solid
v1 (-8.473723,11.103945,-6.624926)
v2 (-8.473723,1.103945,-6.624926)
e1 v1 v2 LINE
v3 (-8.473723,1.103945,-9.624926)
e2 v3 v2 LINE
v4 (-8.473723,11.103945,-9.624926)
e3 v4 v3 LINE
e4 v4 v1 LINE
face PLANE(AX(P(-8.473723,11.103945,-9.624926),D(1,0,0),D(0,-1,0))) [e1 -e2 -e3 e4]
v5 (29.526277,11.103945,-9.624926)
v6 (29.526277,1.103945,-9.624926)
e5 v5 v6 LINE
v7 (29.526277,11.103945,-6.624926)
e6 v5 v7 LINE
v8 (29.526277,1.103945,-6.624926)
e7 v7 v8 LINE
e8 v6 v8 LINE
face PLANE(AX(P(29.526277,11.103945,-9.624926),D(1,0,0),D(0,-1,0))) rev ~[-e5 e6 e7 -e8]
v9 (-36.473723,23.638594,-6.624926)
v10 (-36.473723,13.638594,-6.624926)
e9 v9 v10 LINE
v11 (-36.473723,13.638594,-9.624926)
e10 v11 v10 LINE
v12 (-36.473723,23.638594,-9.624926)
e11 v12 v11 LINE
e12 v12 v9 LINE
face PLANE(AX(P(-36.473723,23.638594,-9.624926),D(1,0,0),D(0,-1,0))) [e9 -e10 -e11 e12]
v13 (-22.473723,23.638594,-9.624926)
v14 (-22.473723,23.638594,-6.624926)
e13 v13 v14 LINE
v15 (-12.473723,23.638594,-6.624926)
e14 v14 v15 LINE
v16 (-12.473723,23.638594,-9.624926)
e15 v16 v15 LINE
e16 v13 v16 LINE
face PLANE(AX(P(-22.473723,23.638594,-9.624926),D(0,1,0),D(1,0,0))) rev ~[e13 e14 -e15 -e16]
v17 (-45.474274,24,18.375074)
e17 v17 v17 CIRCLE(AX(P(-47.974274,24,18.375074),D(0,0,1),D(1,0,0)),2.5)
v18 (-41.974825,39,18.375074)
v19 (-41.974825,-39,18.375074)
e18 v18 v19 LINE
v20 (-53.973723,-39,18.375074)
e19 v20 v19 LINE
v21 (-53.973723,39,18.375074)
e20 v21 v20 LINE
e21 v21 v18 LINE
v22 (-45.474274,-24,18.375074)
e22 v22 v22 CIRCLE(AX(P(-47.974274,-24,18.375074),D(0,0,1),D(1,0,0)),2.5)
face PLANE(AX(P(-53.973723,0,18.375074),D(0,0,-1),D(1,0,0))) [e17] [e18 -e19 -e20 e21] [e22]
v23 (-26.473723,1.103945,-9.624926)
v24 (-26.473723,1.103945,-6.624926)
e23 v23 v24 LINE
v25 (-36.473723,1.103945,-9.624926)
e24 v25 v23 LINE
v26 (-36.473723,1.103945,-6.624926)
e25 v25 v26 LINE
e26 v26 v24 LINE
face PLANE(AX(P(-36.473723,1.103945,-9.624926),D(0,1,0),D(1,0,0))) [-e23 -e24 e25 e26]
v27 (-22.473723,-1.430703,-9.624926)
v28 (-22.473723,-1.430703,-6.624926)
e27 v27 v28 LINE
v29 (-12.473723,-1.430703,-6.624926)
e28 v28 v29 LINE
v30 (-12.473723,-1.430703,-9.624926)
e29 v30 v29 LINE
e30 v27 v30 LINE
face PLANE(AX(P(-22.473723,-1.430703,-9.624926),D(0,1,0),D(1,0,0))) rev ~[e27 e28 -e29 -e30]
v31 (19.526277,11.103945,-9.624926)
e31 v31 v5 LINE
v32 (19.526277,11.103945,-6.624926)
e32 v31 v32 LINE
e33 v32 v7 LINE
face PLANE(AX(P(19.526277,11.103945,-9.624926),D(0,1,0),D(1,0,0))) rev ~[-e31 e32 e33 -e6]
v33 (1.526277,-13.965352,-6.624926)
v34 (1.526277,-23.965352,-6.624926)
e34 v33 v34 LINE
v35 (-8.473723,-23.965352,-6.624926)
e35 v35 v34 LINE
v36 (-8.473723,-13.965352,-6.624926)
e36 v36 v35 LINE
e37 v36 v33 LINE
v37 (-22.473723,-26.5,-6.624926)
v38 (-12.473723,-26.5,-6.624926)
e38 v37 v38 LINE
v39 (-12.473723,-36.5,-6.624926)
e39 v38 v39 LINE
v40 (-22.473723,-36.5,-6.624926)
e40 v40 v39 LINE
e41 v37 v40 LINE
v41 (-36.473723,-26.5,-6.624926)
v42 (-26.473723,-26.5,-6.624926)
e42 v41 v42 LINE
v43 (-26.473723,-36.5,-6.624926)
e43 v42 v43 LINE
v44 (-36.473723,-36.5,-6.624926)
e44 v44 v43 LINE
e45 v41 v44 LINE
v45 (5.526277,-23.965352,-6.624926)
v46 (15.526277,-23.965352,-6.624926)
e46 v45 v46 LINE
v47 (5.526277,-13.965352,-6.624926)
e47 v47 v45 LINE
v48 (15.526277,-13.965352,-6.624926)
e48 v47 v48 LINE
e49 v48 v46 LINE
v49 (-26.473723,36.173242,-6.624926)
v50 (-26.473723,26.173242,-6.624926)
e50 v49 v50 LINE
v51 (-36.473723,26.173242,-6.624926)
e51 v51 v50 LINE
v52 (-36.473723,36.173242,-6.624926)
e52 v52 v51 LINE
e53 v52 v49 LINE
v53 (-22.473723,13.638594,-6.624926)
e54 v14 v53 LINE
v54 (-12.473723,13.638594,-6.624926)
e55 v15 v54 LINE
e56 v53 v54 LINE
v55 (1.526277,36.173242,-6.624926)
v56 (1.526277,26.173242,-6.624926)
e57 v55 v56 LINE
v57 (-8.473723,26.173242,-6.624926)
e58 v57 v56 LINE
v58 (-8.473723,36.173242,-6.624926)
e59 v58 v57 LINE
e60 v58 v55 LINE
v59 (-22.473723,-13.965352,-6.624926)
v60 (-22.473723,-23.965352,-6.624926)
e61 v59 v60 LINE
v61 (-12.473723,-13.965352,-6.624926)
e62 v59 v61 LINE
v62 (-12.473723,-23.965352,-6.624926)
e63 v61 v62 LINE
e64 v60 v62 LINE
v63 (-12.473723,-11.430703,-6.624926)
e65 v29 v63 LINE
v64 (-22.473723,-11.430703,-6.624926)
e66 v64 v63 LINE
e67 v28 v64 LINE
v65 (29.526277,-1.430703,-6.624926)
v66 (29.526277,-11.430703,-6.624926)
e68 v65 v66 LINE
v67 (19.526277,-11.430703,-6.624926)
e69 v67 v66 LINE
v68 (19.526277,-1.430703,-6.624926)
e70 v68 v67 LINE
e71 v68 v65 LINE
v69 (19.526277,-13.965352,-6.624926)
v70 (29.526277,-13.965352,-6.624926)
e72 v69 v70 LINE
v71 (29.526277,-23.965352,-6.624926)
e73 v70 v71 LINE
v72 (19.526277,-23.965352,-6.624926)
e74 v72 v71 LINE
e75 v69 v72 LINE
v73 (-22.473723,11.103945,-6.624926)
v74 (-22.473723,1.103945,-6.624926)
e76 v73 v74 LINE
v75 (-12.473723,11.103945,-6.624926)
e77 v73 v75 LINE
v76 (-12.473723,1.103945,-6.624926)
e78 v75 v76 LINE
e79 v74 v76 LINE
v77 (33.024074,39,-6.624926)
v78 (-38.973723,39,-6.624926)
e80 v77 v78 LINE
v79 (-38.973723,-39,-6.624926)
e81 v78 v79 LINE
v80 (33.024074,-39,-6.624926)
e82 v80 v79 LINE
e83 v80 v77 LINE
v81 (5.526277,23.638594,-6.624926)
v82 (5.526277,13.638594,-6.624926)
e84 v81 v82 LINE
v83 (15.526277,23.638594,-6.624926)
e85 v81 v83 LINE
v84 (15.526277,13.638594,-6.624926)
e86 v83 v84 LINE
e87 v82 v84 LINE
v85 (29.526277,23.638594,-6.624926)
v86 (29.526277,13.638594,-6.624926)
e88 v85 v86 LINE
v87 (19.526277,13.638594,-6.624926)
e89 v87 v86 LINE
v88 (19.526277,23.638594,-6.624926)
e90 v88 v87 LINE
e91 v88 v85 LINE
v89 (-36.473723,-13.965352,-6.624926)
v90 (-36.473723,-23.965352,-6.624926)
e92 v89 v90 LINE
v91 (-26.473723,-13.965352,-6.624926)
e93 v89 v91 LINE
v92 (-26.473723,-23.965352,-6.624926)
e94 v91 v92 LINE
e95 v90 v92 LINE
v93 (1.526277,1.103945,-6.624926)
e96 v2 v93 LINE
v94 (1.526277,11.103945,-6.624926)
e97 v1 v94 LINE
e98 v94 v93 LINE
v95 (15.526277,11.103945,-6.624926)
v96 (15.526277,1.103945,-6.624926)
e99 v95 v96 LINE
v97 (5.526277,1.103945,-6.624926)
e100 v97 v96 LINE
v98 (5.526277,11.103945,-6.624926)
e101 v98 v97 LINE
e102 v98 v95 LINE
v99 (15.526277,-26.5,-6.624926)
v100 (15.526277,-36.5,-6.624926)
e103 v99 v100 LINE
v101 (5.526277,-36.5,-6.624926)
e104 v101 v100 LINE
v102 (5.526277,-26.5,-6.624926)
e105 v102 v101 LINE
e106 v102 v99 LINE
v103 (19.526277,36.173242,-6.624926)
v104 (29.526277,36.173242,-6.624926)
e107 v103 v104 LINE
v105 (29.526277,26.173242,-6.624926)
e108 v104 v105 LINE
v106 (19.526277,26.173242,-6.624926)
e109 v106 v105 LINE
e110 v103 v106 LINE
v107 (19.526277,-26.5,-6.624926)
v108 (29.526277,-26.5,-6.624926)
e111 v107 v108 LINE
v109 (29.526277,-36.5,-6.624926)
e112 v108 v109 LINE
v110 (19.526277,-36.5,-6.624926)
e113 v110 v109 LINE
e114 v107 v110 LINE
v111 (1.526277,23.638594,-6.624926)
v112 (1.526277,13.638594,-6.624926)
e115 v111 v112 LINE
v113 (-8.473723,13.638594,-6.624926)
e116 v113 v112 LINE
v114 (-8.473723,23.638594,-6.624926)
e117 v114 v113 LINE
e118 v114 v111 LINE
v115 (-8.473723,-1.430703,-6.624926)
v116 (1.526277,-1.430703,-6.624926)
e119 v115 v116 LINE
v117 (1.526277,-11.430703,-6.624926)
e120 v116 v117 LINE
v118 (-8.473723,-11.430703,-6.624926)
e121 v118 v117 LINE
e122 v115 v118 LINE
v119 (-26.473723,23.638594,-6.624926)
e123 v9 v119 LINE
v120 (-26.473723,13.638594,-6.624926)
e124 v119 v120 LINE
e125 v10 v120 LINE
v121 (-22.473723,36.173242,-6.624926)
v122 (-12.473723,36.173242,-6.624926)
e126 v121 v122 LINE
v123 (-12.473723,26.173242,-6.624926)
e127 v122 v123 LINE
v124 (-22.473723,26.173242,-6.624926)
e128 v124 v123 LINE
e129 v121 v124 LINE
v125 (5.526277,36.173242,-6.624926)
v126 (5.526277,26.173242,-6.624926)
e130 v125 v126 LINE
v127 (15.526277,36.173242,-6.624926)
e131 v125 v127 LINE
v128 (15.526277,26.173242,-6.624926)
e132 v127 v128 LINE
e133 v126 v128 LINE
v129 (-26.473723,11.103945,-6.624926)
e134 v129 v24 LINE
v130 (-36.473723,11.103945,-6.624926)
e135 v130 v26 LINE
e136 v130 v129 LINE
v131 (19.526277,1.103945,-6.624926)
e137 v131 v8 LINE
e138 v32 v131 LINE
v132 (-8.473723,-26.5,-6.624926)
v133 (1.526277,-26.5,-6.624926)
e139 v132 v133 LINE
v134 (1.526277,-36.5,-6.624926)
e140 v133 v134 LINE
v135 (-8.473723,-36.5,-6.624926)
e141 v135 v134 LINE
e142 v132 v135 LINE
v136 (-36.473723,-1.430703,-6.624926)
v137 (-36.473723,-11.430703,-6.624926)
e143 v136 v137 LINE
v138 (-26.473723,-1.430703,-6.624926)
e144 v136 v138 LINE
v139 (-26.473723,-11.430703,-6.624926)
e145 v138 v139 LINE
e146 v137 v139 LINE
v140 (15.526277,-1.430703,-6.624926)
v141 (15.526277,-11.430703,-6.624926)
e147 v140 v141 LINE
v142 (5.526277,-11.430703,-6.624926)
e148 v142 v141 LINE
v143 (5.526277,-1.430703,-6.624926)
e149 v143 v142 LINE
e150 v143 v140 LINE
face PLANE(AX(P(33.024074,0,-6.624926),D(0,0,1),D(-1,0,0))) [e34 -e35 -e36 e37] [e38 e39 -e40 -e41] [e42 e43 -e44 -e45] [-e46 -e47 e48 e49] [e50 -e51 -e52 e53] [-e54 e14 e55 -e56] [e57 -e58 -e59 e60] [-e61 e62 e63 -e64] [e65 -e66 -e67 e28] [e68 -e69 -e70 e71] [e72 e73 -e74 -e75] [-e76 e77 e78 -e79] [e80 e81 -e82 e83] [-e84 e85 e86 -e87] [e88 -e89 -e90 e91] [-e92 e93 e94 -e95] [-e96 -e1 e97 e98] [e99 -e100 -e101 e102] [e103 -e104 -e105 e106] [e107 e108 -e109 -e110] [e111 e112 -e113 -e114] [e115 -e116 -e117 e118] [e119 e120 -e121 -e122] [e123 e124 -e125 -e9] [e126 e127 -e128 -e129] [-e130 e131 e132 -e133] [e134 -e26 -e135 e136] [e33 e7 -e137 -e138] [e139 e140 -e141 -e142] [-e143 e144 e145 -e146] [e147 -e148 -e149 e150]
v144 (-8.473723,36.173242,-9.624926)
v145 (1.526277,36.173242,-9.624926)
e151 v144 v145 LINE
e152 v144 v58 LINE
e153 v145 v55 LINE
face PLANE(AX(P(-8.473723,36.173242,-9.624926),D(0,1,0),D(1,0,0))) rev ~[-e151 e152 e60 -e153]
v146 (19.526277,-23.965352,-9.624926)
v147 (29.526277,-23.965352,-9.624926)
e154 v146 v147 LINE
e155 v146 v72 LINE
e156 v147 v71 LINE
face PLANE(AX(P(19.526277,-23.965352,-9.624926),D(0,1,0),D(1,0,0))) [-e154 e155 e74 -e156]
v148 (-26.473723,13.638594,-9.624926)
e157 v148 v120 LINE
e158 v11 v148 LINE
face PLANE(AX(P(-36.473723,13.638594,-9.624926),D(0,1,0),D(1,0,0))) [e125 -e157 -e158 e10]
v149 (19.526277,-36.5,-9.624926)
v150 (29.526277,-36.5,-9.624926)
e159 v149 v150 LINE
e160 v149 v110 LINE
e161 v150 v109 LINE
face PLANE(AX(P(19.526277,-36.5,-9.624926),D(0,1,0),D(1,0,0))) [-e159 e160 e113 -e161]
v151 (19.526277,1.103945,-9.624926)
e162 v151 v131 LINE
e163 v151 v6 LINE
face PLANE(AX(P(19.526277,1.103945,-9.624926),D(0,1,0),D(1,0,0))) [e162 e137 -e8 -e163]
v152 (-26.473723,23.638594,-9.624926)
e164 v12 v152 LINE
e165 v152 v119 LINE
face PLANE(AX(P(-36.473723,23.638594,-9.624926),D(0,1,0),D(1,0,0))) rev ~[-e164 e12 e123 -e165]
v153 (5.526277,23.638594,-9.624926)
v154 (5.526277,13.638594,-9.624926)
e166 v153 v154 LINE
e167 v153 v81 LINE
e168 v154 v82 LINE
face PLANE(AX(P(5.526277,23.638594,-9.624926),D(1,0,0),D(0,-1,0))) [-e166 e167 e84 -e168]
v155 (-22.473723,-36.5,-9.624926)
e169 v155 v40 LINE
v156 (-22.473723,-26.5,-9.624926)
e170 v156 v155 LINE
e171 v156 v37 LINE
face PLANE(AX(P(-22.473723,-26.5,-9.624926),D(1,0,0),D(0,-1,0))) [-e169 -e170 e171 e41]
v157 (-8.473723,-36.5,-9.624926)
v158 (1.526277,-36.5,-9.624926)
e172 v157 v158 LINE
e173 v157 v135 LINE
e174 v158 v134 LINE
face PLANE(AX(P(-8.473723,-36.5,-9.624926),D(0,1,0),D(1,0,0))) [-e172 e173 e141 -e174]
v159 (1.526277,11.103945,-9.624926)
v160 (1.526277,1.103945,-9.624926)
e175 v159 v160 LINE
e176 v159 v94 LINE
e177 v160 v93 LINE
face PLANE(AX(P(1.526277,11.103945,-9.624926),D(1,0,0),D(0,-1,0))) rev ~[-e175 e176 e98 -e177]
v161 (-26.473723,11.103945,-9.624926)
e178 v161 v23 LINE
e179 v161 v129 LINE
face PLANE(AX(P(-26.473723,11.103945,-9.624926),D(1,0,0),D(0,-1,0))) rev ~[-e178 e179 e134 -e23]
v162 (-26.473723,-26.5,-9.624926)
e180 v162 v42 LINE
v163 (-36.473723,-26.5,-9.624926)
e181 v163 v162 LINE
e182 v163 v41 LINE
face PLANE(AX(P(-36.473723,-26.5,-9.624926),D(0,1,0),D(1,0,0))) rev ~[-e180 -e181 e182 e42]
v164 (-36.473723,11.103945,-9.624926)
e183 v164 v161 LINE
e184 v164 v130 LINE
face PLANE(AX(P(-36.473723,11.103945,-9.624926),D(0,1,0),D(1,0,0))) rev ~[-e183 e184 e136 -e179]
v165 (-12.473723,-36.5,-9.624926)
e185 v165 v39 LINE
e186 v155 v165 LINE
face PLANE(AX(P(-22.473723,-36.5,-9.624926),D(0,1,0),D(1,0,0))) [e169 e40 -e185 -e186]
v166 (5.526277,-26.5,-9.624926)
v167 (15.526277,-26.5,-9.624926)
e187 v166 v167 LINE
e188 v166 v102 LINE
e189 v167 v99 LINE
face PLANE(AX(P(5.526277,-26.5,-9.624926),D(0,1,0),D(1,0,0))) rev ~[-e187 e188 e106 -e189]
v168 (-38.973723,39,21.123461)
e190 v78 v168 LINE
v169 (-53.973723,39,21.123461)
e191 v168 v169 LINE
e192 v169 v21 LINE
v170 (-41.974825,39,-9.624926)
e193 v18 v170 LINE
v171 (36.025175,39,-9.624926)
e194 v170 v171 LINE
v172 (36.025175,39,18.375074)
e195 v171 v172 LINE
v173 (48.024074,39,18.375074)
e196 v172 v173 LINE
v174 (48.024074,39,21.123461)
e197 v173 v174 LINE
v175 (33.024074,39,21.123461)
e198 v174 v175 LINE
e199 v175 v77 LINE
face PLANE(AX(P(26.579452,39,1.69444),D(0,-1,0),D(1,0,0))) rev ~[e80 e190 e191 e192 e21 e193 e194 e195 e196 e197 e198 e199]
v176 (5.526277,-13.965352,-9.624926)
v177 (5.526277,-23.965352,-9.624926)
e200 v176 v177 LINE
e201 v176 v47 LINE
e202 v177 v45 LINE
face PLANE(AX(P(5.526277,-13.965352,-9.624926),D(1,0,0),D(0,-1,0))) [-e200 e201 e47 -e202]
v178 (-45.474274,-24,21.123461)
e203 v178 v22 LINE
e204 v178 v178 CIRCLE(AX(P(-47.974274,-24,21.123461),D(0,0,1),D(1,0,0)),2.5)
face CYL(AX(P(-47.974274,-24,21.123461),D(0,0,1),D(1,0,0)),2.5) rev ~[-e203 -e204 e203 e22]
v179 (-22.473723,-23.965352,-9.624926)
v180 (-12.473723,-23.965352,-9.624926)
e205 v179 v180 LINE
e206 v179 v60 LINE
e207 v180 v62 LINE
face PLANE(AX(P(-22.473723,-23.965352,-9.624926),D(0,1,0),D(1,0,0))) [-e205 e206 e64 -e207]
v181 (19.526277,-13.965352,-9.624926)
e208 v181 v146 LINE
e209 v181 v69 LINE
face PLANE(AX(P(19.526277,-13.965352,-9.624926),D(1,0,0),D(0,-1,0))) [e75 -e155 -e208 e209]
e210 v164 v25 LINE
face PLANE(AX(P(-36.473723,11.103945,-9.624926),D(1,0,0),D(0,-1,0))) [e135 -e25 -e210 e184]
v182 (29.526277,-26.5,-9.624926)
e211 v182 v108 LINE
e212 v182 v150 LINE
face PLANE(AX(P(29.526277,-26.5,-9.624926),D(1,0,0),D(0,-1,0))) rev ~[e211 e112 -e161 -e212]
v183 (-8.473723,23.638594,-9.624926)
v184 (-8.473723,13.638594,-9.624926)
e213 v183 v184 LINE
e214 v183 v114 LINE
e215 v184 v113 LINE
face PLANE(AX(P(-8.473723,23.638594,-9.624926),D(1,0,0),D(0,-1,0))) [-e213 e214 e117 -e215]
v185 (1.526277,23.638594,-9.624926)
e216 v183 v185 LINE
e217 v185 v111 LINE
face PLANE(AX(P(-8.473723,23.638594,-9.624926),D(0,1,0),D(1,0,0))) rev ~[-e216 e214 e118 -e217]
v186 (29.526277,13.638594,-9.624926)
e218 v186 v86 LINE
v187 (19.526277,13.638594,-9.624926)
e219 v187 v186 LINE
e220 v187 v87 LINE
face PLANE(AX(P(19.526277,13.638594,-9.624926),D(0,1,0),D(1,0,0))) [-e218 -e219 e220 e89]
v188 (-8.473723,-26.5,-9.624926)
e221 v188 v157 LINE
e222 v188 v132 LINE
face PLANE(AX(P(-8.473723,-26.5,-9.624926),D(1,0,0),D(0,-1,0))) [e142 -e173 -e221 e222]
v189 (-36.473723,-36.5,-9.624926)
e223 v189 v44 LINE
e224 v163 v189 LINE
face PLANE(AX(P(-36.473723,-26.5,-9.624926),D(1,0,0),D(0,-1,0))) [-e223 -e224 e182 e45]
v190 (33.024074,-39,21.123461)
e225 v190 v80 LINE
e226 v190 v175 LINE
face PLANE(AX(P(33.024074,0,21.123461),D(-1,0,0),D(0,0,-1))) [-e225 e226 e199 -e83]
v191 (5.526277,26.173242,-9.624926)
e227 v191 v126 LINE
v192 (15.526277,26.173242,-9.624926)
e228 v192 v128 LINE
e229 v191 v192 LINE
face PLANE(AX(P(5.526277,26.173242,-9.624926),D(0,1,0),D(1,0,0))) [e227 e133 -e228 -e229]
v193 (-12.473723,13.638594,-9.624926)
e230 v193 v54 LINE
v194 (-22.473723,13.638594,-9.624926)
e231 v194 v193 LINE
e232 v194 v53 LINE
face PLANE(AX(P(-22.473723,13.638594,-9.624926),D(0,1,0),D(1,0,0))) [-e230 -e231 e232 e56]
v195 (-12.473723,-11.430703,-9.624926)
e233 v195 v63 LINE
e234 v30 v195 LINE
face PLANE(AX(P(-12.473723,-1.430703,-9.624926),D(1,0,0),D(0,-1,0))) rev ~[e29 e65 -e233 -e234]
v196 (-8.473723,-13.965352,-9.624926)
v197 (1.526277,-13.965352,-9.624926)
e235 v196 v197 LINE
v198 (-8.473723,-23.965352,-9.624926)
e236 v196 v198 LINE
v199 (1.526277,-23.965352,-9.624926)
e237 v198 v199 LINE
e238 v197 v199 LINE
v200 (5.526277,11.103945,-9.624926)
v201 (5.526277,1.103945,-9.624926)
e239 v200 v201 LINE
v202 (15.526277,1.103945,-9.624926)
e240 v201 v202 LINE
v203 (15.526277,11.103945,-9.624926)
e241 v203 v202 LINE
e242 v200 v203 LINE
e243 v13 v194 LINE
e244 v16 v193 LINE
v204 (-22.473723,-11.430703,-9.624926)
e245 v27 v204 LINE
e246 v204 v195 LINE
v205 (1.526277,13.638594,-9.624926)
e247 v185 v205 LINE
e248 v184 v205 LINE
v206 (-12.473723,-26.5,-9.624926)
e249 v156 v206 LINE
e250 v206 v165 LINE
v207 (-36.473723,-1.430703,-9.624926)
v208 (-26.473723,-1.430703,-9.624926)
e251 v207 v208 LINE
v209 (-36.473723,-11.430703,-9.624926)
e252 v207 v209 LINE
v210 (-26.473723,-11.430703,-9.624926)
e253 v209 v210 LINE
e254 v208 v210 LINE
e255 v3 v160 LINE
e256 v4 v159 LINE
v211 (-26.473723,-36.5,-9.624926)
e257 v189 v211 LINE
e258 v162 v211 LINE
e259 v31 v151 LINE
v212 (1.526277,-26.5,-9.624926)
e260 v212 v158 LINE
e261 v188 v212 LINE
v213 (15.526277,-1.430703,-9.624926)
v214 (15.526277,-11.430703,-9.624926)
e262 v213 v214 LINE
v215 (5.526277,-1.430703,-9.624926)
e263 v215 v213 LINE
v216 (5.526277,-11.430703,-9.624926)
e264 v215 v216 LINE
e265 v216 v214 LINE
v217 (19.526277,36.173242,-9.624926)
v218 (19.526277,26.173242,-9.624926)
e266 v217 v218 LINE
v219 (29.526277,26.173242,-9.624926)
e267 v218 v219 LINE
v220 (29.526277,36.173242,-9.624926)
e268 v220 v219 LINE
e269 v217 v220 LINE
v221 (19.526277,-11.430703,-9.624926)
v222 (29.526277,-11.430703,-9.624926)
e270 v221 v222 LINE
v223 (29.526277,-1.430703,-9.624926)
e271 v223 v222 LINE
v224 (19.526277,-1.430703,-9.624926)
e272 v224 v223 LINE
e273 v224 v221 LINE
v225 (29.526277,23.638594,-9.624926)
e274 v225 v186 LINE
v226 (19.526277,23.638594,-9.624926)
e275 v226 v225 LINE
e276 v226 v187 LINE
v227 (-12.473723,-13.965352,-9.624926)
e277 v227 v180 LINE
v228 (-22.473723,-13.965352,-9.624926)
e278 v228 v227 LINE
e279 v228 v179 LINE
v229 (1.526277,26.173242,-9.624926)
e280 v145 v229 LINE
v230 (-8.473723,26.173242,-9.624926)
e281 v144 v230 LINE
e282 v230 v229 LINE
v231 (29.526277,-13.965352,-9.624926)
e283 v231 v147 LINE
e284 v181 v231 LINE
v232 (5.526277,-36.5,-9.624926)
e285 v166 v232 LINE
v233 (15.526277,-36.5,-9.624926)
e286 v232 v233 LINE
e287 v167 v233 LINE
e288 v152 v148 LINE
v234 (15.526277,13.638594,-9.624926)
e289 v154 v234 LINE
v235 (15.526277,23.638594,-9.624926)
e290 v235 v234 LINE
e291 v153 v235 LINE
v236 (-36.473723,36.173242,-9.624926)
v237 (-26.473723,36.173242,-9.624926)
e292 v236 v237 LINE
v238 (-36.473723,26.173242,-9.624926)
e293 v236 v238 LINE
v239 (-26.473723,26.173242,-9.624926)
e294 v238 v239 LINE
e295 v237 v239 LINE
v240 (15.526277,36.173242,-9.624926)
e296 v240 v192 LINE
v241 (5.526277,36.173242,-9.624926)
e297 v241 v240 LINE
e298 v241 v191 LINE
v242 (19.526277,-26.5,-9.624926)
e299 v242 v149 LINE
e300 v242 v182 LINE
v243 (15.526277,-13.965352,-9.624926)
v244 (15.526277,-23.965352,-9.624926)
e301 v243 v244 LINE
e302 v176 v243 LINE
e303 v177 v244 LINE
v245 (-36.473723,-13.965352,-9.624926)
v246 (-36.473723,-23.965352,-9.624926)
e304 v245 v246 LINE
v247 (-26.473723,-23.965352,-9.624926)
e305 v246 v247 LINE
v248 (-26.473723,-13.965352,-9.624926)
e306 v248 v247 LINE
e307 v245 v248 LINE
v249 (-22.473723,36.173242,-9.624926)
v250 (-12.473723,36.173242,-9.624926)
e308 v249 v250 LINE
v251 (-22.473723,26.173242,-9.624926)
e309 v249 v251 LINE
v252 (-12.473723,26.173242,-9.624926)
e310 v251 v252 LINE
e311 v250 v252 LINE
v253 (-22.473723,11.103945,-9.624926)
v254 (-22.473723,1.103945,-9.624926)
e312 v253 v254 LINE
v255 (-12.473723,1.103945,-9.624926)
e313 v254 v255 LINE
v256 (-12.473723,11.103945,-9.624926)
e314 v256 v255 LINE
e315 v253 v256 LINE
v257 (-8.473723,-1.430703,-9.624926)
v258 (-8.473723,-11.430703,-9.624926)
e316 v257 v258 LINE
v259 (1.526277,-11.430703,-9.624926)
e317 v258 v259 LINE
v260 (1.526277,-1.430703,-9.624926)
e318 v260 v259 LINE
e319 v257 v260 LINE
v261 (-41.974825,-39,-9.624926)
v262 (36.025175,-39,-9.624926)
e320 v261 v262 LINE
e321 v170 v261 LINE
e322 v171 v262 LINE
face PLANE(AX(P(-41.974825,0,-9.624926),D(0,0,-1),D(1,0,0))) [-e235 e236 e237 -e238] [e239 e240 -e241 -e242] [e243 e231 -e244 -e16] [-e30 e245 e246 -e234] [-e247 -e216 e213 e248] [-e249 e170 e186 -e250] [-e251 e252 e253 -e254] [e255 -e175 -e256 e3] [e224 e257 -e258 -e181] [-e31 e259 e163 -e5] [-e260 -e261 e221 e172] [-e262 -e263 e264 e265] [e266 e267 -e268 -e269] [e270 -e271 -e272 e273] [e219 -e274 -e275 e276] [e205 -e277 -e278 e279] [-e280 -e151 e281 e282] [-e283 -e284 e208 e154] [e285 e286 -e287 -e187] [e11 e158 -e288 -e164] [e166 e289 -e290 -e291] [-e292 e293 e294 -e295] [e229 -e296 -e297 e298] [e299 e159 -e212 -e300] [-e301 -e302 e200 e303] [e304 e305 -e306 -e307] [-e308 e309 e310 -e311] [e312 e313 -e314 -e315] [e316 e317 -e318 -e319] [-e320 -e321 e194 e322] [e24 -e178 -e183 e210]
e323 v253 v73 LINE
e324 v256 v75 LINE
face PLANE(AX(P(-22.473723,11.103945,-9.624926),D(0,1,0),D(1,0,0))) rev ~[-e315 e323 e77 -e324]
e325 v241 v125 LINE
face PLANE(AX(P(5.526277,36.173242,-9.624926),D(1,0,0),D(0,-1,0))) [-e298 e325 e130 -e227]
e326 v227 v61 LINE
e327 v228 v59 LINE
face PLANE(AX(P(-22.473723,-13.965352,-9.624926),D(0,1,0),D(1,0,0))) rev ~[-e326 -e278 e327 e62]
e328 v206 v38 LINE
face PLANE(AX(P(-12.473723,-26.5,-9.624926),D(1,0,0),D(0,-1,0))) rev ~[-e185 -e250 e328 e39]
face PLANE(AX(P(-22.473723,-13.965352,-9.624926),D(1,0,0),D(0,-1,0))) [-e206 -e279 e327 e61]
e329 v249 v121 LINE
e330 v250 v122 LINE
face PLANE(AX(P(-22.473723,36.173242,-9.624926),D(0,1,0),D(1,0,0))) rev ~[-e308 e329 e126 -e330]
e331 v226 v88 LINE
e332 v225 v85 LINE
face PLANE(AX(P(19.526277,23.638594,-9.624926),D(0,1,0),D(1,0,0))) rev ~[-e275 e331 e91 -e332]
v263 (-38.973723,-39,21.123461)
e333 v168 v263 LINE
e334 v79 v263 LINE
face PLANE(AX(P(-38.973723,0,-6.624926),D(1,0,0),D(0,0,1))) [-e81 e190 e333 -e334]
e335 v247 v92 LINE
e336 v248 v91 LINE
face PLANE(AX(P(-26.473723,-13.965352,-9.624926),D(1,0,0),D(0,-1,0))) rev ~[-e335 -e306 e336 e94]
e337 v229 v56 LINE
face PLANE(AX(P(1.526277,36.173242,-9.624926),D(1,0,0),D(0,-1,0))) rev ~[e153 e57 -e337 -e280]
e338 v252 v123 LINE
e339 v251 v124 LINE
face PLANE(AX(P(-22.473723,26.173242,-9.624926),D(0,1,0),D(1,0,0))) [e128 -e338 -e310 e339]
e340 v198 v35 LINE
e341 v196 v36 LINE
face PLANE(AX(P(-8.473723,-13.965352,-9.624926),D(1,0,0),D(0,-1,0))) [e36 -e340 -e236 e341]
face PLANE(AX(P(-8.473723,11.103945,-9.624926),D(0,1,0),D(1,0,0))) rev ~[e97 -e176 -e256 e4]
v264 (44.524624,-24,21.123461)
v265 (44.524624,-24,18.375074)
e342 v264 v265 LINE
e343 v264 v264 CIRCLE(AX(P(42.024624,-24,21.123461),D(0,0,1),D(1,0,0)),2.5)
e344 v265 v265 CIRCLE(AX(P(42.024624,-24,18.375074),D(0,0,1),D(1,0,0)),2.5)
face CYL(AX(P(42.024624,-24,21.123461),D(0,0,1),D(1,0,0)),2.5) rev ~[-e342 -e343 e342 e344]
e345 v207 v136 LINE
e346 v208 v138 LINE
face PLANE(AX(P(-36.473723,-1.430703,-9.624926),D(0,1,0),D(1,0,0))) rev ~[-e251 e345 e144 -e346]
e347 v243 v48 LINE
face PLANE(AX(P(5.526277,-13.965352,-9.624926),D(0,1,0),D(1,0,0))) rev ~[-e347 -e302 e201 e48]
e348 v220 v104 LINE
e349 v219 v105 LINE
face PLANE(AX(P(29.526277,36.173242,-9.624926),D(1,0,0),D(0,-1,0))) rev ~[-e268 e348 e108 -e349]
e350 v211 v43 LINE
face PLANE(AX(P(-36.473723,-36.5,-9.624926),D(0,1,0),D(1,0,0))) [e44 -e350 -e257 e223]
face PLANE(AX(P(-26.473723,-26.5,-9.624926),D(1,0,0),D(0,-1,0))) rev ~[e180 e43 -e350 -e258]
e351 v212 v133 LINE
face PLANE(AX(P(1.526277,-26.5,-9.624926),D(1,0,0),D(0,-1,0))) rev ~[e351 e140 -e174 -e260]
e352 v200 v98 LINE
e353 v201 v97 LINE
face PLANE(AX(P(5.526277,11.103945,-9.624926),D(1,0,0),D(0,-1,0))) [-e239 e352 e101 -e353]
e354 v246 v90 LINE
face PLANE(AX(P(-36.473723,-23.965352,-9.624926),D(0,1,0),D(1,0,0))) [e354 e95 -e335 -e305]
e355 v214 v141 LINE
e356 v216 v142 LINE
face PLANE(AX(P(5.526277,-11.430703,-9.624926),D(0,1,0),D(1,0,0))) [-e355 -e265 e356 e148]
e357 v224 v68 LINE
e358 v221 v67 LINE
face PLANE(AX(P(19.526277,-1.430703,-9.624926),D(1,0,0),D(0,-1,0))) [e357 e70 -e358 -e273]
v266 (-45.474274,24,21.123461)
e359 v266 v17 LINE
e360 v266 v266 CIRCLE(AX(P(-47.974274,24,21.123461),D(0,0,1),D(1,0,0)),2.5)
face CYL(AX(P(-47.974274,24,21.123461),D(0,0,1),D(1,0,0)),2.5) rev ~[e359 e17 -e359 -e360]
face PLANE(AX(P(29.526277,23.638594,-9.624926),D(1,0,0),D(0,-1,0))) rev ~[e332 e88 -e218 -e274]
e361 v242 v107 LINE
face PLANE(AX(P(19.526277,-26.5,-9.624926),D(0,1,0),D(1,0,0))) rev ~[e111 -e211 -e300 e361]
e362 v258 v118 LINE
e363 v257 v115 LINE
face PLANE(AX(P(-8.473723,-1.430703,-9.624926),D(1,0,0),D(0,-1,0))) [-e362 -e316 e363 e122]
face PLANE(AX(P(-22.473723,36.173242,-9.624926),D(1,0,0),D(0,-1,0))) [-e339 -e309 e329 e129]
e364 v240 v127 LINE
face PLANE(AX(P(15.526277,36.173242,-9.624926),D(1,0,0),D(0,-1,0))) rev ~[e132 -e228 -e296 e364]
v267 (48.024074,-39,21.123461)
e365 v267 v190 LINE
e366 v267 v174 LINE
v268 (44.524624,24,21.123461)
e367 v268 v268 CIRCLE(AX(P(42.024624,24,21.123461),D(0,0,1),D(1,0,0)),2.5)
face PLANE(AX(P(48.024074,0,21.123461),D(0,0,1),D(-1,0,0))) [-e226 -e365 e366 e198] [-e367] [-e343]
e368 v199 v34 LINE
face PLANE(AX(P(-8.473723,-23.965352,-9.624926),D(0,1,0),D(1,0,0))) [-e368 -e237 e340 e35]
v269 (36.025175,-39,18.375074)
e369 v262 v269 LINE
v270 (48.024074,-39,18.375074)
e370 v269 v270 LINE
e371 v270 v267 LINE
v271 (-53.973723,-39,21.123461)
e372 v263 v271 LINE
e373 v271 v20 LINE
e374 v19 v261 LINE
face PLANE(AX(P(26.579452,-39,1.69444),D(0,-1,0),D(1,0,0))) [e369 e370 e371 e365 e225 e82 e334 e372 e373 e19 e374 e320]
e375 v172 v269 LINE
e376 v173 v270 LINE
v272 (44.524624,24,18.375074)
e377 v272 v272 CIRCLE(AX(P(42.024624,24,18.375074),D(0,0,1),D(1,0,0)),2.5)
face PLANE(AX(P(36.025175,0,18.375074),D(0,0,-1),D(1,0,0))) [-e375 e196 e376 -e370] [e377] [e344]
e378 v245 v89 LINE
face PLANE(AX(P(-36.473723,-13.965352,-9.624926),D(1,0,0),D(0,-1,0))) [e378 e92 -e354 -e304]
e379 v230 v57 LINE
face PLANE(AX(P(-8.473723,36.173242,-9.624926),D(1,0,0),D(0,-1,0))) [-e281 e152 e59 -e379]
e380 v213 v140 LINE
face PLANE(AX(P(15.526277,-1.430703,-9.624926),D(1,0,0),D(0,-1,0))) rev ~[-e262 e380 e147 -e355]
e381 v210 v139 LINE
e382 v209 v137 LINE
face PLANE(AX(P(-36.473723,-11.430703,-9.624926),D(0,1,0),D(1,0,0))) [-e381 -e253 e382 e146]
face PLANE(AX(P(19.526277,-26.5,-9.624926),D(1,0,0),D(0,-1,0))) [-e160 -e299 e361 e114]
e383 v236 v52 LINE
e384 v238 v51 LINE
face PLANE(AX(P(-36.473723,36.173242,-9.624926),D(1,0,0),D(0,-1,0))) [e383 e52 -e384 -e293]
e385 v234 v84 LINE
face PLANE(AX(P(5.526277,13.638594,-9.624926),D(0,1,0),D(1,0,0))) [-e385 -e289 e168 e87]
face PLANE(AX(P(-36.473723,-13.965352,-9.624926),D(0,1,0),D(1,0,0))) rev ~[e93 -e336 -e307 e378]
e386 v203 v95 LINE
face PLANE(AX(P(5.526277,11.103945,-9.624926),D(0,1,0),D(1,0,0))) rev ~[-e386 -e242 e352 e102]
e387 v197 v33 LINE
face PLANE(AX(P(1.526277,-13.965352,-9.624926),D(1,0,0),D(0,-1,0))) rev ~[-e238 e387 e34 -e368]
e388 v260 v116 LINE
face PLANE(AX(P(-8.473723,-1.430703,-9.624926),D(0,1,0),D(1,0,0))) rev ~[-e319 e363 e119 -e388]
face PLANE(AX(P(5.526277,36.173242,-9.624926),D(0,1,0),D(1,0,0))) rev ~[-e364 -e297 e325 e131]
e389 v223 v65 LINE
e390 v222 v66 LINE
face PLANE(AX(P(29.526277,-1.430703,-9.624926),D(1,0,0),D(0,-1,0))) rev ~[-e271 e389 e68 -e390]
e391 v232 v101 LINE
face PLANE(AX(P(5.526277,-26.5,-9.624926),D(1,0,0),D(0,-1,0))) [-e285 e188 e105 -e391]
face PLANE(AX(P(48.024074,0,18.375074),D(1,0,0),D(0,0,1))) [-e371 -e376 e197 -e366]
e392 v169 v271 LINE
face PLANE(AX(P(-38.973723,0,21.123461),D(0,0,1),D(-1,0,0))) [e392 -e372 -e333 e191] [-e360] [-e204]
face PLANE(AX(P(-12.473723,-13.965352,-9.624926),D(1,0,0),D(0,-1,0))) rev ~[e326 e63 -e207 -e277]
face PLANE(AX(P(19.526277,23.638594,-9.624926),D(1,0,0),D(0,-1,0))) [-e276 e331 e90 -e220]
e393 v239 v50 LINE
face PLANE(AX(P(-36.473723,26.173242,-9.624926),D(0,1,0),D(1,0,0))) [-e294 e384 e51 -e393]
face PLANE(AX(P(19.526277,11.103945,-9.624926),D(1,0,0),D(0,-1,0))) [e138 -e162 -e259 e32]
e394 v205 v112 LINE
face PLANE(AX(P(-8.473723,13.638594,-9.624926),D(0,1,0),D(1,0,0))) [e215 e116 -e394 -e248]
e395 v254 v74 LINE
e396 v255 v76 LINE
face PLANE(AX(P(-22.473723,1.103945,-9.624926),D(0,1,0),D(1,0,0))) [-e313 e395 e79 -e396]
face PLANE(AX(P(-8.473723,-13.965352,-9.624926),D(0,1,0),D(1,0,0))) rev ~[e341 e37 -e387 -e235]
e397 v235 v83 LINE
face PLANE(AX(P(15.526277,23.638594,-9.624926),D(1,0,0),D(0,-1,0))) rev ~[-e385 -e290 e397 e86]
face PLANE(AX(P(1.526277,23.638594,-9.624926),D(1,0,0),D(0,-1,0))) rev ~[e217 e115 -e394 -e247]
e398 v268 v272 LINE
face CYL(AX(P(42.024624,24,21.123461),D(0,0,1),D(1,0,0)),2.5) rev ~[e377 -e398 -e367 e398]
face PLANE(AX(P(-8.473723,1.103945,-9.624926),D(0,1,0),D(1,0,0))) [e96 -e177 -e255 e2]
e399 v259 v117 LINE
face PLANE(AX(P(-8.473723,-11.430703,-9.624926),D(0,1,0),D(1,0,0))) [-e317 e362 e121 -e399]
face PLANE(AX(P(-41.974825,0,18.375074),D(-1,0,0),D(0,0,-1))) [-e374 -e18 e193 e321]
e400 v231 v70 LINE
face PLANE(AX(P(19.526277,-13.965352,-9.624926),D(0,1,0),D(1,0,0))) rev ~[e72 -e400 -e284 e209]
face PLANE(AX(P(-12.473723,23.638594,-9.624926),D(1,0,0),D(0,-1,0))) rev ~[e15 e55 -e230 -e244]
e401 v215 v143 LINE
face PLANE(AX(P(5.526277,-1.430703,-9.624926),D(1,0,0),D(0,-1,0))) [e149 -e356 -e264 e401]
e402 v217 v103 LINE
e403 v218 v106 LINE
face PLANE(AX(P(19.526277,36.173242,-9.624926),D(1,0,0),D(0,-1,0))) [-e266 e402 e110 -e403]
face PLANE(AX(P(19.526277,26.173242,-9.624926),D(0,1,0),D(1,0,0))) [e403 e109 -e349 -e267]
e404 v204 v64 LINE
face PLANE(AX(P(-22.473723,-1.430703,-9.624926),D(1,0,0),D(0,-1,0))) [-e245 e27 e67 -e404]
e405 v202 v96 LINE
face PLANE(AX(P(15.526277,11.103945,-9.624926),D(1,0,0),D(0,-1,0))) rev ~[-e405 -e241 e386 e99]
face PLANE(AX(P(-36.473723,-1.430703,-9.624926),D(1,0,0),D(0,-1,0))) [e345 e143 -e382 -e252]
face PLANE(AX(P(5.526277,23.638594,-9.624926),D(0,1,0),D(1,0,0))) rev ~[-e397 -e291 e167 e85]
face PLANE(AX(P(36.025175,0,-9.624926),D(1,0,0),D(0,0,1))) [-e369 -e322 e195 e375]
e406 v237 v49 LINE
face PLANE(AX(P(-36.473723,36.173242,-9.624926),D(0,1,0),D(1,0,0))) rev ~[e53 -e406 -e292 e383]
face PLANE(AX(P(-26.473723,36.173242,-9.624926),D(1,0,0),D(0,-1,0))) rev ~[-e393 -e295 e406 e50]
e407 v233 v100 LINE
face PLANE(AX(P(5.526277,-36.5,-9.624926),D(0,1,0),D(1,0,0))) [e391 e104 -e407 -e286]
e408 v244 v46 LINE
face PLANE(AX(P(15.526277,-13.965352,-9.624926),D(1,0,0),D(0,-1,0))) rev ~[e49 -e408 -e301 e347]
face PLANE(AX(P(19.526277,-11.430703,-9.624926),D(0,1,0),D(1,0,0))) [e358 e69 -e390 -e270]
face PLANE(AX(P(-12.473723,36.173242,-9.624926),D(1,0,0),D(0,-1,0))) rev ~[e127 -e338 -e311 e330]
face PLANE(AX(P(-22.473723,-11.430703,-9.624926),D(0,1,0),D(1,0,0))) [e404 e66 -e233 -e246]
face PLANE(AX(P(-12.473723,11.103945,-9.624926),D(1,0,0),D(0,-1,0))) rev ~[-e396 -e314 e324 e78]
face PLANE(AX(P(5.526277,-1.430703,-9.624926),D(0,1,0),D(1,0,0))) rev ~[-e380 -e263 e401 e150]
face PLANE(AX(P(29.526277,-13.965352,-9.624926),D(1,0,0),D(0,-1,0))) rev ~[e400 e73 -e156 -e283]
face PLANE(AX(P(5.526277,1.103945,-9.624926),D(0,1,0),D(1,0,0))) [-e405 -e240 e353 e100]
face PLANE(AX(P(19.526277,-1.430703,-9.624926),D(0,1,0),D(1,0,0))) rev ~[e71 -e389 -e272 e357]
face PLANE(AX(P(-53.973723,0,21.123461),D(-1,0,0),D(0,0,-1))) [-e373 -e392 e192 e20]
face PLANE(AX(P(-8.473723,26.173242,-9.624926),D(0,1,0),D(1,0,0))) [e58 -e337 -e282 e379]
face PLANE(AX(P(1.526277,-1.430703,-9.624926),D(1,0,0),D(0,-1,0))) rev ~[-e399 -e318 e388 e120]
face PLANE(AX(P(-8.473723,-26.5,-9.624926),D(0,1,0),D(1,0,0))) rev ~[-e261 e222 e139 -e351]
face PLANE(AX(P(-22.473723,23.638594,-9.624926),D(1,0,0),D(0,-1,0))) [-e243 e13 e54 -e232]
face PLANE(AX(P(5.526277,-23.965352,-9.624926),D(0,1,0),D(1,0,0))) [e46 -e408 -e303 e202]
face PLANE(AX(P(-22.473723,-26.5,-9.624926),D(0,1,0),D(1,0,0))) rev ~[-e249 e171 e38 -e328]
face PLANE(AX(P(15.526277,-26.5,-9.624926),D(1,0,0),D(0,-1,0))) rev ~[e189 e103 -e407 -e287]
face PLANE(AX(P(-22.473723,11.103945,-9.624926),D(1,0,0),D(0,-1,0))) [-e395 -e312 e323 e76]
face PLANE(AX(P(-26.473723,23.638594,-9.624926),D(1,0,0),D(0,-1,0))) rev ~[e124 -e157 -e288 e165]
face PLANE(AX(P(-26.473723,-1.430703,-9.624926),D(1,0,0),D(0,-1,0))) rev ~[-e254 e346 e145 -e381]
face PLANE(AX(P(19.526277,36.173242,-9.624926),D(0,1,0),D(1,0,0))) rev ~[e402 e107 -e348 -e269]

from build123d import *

# Parameters (mm, degrees)
F1_DEPTH = 39
F2_R     = 2.5
F3_DEPTH = 2.748387
F4_W     = 10
F4_H     = 10
F5_DEPTH = 3


with BuildPart() as f1:
    # F0 (on Front) → F1 (new body, symmetric)
    with BuildSketch(Plane.XZ):
        Polygon((33.024074, -6.624926), (-2.974825, -6.624926), (-2.974825, -9.624926), (36.025175, -9.624926), (36.025175, 18.375074), (48.024074, 18.375074), (48.024074, 21.123461), (33.024074, 21.123461), align=None)
        Polygon((-2.974825, -9.624926), (-2.974825, -6.624926), (-38.973723, -6.624926), (-38.973723, 21.123461), (-53.973723, 21.123461), (-53.973723, 18.375074), (-41.974825, 18.375074), (-41.974825, -9.624926), align=None)
    extrude(amount=F1_DEPTH, both=True)

    # F2 (on face) → F3 (cut, through all)
    with BuildSketch(Plane.XY.offset(21.123461)):
        with Locations((42.024624, -24)):
            Circle(F2_R)
        with Locations((42.024624, 24)):
            Circle(F2_R)
        with Locations((-47.974274, 24)):
            Circle(F2_R)
        with Locations((-47.974274, -24)):
            Circle(F2_R)
    extrude(amount=-F3_DEPTH, mode=Mode.SUBTRACT)

    # F4 (on face) → F5 (cut, through all)
    with BuildSketch(Plane(origin=(0, 0, -9.624926), x_dir=(1, 0, 0), z_dir=(0, 0, -1))):
        with Locations((-31.473723, 31.5)):
            Rectangle(F4_W, F4_H)
        with Locations((-17.473723, 31.5)):
            Rectangle(F4_W, F4_H)
        with Locations((-3.473723, 31.5)):
            Rectangle(F4_W, F4_H)
        with Locations((10.526277, 31.5)):
            Rectangle(F4_W, F4_H)
        with Locations((24.526277, 31.5)):
            Rectangle(F4_W, F4_H)
        with Locations((10.526277, 18.965352)):
            Rectangle(F4_W, F4_H)
        with Locations((24.526277, 18.965352)):
            Rectangle(F4_W, F4_H)
        with Locations((-31.473723, 18.965352)):
            Rectangle(F4_W, F4_H)
        with Locations((-17.473723, 18.965352)):
            Rectangle(F4_W, F4_H)
        with Locations((-3.473723, 18.965352)):
            Rectangle(F4_W, F4_H)
        with Locations((10.526277, 6.430703)):
            Rectangle(F4_W, F4_H)
        with Locations((24.526277, 6.430703)):
            Rectangle(F4_W, F4_H)
        with Locations((-31.473723, 6.430703)):
            Rectangle(F4_W, F4_H)
        with Locations((-17.473723, 6.430703)):
            Rectangle(F4_W, F4_H)
        with Locations((-3.473723, 6.430703)):
            Rectangle(F4_W, F4_H)
        with Locations((10.526277, -6.103945)):
            Rectangle(F4_W, F4_H)
        with Locations((24.526277, -6.103945)):
            Rectangle(F4_W, F4_H)
        with Locations((-31.473723, -6.103945)):
            Rectangle(F4_W, F4_H)
        with Locations((-17.473723, -6.103945)):
            Rectangle(F4_W, F4_H)
        with Locations((-3.473723, -6.103945)):
            Rectangle(F4_W, F4_H)
        with Locations((10.526277, -18.638594)):
            Rectangle(F4_W, F4_H)
        with Locations((24.526277, -18.638594)):
            Rectangle(F4_W, F4_H)
        with Locations((-31.473723, -18.638594)):
            Rectangle(F4_W, F4_H)
        with Locations((-17.473723, -18.638594)):
            Rectangle(F4_W, F4_H)
        with Locations((-3.473723, -18.638594)):
            Rectangle(F4_W, F4_H)
        with Locations((10.526277, -31.173242)):
            Rectangle(F4_W, F4_H)
        with Locations((24.526277, -31.173242)):
            Rectangle(F4_W, F4_H)
        with Locations((-31.473723, -31.173242)):
            Rectangle(F4_W, F4_H)
        with Locations((-17.473723, -31.173242)):
            Rectangle(F4_W, F4_H)
        with Locations((-3.473723, -31.173242)):
            Rectangle(F4_W, F4_H)
    extrude(amount=-F5_DEPTH, mode=Mode.SUBTRACT)


solid = f1.part
